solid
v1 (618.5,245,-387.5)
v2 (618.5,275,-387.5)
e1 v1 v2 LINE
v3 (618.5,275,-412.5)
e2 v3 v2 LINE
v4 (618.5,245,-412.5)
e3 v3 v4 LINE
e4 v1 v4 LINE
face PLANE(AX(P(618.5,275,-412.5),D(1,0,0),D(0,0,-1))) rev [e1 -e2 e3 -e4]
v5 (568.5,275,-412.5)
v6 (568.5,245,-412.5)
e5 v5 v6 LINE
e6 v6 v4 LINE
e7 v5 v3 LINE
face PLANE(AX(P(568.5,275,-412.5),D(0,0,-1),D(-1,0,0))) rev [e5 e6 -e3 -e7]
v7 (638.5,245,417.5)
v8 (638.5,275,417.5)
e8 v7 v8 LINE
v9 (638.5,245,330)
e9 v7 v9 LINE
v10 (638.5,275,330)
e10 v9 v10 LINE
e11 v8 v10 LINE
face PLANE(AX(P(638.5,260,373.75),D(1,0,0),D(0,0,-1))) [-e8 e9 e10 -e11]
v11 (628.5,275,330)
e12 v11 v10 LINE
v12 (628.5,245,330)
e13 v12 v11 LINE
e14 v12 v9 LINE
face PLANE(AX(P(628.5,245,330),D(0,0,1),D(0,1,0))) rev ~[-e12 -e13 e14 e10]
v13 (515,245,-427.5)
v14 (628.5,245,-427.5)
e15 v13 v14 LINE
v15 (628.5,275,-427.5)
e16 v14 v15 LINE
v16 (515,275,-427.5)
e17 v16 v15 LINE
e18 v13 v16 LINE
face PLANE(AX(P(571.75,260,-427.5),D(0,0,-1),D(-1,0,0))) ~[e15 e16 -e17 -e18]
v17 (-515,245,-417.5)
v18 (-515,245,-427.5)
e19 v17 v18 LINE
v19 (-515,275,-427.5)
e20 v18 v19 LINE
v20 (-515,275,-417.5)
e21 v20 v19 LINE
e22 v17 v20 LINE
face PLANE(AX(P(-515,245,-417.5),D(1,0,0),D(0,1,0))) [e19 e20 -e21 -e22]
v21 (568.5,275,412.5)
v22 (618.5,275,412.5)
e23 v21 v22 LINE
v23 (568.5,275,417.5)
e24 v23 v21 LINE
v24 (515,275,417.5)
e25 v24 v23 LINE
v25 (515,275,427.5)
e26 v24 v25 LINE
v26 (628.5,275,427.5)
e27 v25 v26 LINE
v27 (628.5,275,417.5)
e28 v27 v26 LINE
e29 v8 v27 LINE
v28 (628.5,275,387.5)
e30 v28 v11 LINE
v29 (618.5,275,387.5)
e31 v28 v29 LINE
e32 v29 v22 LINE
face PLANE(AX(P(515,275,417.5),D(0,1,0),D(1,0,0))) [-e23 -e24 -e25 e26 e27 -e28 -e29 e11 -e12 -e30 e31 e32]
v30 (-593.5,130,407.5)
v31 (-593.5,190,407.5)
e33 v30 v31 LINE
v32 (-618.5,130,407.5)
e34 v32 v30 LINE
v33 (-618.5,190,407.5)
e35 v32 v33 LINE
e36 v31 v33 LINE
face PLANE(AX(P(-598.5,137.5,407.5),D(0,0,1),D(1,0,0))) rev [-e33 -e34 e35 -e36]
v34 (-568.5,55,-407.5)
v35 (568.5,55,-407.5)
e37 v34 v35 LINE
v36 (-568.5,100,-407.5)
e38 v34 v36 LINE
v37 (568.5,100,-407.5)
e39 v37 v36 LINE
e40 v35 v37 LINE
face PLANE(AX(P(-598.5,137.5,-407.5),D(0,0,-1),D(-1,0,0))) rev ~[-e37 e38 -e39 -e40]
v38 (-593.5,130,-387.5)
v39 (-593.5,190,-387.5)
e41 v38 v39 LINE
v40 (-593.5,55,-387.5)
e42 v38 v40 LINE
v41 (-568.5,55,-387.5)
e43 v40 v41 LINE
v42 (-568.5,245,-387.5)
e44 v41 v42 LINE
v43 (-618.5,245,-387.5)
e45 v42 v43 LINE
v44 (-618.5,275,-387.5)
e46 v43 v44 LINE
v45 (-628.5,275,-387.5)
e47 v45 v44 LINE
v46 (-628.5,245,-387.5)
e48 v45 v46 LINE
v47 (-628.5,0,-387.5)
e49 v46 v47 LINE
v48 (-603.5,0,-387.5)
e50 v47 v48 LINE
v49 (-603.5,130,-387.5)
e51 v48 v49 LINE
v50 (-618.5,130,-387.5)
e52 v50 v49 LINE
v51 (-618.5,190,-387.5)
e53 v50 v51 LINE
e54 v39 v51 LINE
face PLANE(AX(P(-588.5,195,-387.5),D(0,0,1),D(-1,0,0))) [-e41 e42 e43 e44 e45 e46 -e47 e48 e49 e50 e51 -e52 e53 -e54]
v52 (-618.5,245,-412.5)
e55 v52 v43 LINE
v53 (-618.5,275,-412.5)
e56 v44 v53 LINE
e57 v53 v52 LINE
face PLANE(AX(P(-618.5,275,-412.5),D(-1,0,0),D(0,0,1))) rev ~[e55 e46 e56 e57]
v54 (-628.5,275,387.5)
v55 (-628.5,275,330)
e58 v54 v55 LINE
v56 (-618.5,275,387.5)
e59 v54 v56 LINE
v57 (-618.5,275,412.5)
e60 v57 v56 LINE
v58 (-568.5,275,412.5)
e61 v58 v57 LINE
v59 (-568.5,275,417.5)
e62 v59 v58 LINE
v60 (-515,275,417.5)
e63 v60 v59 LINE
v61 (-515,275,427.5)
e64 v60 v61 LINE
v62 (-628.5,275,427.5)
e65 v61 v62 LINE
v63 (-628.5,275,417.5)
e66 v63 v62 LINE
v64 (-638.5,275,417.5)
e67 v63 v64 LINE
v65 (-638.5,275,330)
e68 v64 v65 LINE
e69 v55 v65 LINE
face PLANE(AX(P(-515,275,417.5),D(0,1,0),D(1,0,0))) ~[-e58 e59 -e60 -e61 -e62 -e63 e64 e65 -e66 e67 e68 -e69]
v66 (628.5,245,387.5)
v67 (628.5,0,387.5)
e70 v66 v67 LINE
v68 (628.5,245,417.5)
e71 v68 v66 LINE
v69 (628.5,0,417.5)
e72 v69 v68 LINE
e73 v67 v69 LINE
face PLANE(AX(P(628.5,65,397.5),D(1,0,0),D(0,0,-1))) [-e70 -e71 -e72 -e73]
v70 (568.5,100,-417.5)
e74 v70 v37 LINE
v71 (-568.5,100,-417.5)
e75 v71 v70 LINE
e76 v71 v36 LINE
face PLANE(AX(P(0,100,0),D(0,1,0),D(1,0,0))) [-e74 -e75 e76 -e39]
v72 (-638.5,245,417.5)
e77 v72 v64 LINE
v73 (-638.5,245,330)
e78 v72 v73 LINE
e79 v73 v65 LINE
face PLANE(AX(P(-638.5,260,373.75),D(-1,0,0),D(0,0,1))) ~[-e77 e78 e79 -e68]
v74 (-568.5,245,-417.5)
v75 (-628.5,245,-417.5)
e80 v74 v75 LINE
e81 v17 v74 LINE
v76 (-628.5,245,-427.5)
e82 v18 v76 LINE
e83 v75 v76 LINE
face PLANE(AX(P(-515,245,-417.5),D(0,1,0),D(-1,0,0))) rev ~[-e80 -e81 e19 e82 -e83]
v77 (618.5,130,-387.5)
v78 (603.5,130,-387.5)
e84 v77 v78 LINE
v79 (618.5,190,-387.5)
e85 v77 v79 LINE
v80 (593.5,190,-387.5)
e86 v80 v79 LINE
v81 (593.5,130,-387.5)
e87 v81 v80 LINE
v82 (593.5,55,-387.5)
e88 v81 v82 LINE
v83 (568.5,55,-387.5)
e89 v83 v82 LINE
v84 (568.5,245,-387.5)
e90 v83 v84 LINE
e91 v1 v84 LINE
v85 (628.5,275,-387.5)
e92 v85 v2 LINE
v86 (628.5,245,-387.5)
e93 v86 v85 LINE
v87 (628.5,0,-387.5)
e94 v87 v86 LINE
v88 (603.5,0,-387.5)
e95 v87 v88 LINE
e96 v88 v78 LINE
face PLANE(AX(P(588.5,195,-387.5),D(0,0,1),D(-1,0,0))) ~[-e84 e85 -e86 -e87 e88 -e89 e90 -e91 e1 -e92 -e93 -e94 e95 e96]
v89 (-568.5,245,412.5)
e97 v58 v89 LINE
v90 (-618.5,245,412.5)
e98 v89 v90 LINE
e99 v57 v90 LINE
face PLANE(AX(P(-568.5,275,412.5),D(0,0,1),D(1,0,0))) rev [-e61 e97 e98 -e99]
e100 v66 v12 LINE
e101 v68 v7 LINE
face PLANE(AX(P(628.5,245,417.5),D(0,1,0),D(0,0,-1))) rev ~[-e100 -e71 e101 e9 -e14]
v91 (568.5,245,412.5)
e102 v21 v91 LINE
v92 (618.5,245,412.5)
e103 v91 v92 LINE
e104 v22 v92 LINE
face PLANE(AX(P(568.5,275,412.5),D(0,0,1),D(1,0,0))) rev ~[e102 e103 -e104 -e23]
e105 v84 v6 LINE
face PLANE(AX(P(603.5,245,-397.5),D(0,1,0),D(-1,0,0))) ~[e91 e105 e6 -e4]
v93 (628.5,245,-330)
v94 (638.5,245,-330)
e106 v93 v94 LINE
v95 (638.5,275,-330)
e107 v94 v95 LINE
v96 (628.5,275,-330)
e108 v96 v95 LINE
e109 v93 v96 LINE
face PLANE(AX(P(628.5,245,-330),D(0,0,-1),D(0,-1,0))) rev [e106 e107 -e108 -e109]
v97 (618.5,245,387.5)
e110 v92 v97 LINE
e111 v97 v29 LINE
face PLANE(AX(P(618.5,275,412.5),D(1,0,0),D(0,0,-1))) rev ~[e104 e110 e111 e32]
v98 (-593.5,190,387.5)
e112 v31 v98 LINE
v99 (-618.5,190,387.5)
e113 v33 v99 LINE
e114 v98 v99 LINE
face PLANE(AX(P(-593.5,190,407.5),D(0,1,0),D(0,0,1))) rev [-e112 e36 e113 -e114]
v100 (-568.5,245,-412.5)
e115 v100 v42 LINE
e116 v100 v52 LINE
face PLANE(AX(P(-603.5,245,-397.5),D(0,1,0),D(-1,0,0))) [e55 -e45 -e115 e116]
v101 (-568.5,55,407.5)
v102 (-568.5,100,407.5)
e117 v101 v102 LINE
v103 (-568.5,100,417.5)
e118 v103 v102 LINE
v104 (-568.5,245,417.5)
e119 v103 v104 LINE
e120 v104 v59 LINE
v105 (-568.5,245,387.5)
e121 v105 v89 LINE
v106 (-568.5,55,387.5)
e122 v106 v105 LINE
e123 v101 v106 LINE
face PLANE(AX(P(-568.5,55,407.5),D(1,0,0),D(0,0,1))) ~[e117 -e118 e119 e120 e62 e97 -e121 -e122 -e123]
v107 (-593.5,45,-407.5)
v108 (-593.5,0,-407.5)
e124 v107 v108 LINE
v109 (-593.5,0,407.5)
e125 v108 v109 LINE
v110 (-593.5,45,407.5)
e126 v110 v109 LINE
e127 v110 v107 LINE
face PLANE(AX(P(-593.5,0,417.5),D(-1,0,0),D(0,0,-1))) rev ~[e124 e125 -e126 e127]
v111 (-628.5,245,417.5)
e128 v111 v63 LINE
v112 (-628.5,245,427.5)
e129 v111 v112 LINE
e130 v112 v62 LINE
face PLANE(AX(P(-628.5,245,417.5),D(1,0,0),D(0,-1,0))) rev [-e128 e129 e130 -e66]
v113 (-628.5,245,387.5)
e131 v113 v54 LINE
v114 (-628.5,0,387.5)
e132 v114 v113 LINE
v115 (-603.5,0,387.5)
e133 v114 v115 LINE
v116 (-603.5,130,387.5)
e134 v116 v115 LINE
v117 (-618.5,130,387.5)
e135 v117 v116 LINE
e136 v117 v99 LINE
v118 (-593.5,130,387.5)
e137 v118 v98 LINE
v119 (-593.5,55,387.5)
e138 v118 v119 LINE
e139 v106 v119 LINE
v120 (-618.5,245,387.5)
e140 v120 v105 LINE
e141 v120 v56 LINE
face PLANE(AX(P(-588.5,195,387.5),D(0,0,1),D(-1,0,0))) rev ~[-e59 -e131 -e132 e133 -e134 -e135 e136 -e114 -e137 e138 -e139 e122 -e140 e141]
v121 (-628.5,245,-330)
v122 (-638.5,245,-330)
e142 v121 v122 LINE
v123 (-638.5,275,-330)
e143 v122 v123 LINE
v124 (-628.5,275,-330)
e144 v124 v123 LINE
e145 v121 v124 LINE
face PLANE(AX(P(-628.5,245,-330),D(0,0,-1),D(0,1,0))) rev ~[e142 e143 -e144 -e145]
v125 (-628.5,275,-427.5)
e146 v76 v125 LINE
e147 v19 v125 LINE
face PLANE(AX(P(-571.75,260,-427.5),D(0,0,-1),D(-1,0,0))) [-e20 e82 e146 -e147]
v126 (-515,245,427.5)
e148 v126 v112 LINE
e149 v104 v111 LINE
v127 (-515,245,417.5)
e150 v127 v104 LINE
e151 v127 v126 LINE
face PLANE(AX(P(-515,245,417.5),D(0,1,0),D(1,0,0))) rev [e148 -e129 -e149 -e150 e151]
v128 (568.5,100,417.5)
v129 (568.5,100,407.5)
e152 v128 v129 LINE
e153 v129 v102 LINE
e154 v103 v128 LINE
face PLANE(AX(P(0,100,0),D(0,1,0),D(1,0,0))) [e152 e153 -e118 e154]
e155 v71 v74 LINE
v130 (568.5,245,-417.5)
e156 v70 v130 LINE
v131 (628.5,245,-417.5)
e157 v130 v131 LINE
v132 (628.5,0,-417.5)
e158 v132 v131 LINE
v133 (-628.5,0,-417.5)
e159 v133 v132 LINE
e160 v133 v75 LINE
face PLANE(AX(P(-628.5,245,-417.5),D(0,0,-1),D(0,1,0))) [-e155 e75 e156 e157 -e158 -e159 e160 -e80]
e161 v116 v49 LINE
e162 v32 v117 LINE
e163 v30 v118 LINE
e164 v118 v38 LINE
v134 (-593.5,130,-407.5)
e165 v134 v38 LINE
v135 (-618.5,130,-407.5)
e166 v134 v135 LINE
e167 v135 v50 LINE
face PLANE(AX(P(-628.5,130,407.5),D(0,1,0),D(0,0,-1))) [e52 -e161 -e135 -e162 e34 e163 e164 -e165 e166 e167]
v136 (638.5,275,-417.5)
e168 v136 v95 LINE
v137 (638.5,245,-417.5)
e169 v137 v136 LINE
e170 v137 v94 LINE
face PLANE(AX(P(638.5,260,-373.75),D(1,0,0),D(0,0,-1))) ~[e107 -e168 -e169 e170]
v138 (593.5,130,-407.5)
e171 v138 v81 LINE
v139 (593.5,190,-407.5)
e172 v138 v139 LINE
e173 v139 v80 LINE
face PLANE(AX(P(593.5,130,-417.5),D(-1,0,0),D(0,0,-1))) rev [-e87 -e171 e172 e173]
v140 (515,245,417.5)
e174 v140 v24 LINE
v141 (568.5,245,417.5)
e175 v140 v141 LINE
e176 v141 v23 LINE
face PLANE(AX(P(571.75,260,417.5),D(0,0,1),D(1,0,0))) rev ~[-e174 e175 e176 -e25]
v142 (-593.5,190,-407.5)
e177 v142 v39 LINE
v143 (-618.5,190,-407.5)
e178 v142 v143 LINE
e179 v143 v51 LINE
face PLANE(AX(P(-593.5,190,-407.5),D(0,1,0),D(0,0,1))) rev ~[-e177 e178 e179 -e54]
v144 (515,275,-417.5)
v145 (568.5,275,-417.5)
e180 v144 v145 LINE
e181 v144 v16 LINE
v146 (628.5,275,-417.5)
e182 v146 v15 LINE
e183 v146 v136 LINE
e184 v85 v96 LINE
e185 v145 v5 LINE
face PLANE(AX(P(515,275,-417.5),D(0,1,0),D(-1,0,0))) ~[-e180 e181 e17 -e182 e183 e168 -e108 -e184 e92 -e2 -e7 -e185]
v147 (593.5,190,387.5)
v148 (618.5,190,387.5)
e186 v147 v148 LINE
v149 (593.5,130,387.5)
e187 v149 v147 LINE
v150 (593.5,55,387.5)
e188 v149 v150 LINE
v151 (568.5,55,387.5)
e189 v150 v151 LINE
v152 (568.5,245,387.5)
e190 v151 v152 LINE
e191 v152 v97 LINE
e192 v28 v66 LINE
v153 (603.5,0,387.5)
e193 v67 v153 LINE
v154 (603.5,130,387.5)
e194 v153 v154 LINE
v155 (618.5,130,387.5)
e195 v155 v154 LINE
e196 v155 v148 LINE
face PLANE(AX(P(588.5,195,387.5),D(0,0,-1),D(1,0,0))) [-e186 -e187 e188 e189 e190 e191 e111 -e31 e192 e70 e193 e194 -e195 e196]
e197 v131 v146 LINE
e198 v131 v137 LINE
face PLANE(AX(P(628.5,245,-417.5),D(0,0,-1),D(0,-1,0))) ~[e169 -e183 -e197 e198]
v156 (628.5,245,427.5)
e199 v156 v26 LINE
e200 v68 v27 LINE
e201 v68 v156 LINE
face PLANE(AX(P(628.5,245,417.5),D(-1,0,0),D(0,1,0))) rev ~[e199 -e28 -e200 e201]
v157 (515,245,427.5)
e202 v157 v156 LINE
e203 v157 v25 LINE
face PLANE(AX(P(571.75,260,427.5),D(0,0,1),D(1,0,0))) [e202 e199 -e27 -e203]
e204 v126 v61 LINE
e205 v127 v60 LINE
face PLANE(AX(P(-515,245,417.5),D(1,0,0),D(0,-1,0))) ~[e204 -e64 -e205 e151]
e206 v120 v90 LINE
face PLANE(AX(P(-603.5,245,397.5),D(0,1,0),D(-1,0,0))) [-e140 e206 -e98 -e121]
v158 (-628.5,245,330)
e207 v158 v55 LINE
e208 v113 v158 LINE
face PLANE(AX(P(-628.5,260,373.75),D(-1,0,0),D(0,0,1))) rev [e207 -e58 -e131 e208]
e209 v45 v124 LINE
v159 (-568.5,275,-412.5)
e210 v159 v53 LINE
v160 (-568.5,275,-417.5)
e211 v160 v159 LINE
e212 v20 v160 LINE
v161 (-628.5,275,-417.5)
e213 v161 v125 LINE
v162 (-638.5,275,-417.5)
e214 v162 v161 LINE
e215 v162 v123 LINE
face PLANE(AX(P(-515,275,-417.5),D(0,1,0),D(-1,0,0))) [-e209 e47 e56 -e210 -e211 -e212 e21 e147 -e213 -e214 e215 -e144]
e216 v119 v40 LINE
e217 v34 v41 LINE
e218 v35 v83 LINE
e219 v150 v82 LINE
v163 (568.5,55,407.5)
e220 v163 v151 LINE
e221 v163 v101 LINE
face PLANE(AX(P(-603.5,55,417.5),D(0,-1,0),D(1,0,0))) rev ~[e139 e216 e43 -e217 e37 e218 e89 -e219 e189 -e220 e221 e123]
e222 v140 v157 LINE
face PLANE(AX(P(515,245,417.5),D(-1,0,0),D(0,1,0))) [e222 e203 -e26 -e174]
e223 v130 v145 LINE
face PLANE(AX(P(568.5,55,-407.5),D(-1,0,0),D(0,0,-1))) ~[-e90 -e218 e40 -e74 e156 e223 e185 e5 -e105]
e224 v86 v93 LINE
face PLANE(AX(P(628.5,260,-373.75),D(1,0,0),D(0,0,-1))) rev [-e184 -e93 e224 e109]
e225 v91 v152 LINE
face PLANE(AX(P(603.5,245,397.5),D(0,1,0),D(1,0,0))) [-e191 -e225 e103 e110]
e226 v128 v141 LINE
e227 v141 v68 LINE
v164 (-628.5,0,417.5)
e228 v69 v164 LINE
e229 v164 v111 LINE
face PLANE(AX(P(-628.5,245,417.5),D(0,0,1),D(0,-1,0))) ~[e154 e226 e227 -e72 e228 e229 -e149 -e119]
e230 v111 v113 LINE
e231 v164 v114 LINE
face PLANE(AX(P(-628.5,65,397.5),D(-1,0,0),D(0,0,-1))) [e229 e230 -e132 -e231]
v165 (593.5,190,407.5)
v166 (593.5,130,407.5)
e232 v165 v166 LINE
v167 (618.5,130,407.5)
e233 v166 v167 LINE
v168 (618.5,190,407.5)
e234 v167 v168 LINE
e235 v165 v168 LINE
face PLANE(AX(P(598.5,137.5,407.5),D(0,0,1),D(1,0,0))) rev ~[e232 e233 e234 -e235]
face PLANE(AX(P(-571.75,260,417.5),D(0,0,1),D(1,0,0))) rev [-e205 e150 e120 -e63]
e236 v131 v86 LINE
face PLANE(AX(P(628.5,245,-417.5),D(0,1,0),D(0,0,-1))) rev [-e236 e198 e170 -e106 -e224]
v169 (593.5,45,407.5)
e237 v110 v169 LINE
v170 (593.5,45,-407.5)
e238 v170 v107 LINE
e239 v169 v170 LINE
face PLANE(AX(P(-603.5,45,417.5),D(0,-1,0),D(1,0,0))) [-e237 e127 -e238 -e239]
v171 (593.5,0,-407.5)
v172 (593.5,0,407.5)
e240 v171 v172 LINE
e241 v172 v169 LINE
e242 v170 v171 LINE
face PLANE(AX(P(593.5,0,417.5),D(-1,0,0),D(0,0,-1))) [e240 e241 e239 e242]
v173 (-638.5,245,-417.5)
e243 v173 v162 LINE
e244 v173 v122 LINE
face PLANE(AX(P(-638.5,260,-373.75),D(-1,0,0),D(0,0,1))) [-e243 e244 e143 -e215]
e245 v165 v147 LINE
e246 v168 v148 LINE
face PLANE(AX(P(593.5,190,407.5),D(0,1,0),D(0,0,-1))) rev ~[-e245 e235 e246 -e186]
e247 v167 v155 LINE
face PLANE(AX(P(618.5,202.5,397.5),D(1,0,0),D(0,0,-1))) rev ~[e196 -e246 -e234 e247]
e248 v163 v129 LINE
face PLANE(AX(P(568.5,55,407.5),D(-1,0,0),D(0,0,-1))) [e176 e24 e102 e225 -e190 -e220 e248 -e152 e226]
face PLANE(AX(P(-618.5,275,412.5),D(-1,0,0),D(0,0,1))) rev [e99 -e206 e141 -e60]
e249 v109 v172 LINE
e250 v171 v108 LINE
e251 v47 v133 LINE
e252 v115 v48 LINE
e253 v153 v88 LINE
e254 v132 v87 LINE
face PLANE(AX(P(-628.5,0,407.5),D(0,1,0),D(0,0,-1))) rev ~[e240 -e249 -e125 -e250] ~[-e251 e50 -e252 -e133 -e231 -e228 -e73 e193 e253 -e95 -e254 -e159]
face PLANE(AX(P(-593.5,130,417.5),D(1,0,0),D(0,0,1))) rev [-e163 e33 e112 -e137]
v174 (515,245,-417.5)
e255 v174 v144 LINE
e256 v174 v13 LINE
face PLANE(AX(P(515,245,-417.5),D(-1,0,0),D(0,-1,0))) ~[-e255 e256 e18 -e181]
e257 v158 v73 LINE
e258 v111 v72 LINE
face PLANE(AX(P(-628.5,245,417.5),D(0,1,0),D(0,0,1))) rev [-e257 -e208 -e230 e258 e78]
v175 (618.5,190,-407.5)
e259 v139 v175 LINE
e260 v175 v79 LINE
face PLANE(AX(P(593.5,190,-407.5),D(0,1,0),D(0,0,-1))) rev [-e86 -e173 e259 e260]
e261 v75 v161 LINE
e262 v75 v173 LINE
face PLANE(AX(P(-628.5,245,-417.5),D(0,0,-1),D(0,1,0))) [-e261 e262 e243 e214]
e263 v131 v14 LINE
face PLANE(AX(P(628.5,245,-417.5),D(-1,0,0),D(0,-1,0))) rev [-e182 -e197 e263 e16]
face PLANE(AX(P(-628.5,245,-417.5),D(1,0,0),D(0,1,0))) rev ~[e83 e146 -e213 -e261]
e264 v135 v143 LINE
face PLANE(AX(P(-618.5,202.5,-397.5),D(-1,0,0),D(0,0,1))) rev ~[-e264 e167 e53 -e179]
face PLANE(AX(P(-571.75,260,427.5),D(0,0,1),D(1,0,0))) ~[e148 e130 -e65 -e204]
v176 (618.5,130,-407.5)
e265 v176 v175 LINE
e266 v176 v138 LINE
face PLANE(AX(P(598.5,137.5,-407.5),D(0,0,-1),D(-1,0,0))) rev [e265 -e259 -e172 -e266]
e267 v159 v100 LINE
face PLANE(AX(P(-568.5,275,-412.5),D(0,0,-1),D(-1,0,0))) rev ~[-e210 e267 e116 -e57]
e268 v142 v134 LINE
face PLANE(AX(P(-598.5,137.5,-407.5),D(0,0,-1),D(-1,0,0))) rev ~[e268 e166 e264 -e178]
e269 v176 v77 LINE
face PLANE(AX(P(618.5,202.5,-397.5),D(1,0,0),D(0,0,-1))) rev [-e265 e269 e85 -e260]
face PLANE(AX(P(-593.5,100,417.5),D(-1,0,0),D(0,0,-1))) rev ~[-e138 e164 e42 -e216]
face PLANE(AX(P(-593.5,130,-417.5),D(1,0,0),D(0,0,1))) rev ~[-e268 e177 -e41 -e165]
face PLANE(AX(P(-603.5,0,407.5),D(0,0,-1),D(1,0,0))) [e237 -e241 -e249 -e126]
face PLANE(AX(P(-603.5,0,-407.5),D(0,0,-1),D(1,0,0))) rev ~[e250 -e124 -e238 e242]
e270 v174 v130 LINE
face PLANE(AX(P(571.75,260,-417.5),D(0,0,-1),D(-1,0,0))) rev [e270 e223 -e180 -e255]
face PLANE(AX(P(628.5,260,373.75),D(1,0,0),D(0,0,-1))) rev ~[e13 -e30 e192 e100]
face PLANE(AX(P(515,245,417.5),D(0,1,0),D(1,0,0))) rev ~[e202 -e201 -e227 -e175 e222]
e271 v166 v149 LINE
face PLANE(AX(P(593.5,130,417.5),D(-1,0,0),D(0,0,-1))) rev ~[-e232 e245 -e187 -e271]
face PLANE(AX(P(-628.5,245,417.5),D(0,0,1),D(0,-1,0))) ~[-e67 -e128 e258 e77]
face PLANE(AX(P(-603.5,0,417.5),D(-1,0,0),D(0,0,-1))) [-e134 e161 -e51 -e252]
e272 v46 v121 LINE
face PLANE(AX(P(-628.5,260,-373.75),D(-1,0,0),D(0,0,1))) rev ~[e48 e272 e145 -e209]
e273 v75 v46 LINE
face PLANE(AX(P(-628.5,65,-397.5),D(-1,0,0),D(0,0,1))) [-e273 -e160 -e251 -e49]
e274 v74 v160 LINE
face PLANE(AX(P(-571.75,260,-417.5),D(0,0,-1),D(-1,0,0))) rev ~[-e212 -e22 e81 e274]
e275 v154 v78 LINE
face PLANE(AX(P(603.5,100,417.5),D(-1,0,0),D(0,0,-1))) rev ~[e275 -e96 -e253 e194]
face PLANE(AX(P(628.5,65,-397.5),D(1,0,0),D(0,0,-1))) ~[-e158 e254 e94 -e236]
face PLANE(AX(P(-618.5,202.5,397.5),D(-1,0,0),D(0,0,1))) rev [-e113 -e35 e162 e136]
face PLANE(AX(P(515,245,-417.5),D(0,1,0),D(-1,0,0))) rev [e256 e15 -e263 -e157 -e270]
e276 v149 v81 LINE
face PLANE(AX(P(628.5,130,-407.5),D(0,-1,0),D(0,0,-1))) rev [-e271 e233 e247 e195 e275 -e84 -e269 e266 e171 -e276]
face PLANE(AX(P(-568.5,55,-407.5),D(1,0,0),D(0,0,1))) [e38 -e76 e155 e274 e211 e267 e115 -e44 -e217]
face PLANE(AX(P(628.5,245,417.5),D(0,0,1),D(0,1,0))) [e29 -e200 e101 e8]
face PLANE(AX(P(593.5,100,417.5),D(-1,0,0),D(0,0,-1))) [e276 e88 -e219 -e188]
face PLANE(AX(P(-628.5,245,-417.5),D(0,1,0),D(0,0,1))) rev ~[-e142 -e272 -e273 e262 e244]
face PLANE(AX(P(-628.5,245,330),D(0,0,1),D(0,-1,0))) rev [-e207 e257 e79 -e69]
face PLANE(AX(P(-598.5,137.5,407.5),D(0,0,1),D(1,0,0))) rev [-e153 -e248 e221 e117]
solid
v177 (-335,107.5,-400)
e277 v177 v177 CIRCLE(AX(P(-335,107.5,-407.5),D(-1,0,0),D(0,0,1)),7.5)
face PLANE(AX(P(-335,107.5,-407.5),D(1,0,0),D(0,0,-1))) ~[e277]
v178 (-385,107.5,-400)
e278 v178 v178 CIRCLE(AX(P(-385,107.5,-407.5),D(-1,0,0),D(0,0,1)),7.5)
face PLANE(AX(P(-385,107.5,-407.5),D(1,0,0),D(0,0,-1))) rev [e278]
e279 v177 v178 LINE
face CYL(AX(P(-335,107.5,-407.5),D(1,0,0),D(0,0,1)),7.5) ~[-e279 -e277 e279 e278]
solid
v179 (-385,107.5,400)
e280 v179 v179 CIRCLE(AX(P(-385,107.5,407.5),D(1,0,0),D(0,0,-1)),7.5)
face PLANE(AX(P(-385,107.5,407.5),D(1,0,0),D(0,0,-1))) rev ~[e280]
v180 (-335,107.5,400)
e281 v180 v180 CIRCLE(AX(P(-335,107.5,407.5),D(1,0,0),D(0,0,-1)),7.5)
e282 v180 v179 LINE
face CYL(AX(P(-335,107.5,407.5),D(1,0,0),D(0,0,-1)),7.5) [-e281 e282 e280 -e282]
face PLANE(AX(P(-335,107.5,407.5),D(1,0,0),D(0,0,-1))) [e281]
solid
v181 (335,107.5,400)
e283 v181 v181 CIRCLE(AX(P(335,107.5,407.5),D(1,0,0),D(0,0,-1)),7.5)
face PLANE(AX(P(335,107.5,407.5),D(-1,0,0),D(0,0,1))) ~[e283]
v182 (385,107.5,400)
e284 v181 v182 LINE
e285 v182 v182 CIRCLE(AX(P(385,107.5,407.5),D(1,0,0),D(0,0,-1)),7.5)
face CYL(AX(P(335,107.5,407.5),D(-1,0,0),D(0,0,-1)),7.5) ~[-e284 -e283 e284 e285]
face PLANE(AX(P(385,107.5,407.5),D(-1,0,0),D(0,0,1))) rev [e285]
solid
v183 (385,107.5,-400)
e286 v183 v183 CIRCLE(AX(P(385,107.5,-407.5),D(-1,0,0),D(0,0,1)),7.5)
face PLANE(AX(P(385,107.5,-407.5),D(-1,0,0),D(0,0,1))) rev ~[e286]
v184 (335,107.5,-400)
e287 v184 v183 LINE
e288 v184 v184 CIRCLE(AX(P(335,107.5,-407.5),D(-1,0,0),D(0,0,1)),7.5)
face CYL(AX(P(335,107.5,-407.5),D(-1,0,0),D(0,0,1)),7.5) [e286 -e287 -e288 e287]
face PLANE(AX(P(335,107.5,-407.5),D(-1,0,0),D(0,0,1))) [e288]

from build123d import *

# Parameters (mm, degrees)
SCHIZZO1_W                    = 1207
SCHIZZO1_H                    = 835
ESTRUSIONE_ESTRUSIONE2_DEPTH  = 100
SVUOTA1_T                     = -10
ESTRUSIONE_ESTRUSIONE3_REACH  = 837
SCHIZZO6_W                    = 1207
SCHIZZO6_H                    = 10
SCHIZZO12_W                   = 10
SCHIZZO12_H                   = 835
ESTRUSIONE_ESTRUSIONE10_DEPTH = 30
SCHIZZO7_W                    = 60
SCHIZZO7_H                    = 275
ESTRUSIONE_ESTRUSIONE4_DEPTH  = 10
SCHIZZO8_W                    = 20
SCHIZZO8_H                    = 145
ESTRUSIONE_ESTRUSIONE5_DEPTH  = 10
SCHIZZO9_W                    = 5
SCHIZZO9_H                    = 30
ESTRUSIONE_ESTRUSIONE6_DEPTH  = 75
SCHIZZO10_W                   = 5
SCHIZZO10_H                   = 30
ESTRUSIONE_ESTRUSIONE7_DEPTH  = 65
SCHIZZO11_W                   = 5
SCHIZZO11_H                   = 20
ESTRUSIONE_ESTRUSIONE8_DEPTH  = 25
SCHIZZO8_3_W                  = 20
SCHIZZO8_3_H                  = 130
ESTRUSIONE_ESTRUSIONE9_DEPTH  = 25
SCHIZZO14_W                   = 87.5
SCHIZZO14_H                   = 30
ESTRUSIONE_ESTRUSIONE12_DEPTH = 10
SCHIZZO15_W                   = 50
SCHIZZO15_H                   = 5
TAGLIO_ESTRUSIONE1_DEPTH      = 30
SCHIZZO16_W                   = 20
SCHIZZO16_H                   = 20
ESTRUSIONE_ESTRUSIONE13_DEPTH = 190
SCHIZZO17_W                   = 30
SCHIZZO17_H                   = 20
ESTRUSIONE_ESTRUSIONE14_DEPTH = 50
SCHIZZO18_W                   = 113.5
SCHIZZO18_H                   = 30
ESTRUSIONE_ESTRUSIONE15_DEPTH = 10
SPECCHIA2_COPY_1_SKETCH_W     = 60
SPECCHIA2_COPY_1_SKETCH_H     = 275
SPECCHIA2_COPY_1_DEPTH        = 10
SPECCHIA2_COPY_2_SKETCH_W     = 20
SPECCHIA2_COPY_2_SKETCH_H     = 145
SPECCHIA2_COPY_2_DEPTH        = 10
SPECCHIA2_COPY_3_SKETCH_W     = 5
SPECCHIA2_COPY_3_SKETCH_H     = 30
SPECCHIA2_COPY_3_DEPTH        = 75
SPECCHIA2_COPY_4_SKETCH_W     = 5
SPECCHIA2_COPY_4_SKETCH_H     = 30
SPECCHIA2_COPY_4_DEPTH        = 65
SPECCHIA2_COPY_5_SKETCH_W     = 5
SPECCHIA2_COPY_5_SKETCH_H     = 20
SPECCHIA2_COPY_5_DEPTH        = 25
SPECCHIA2_COPY_6_SKETCH_W     = 20
SPECCHIA2_COPY_6_SKETCH_H     = 130
SPECCHIA2_COPY_6_DEPTH        = 25
SPECCHIA2_COPY_7_SKETCH_W     = 87.5
SPECCHIA2_COPY_7_SKETCH_H     = 30
SPECCHIA2_COPY_7_DEPTH        = 10
SPECCHIA2_COPY_8_SKETCH_W     = 50
SPECCHIA2_COPY_8_SKETCH_H     = 5
SPECCHIA2_COPY_8_DEPTH        = 30
SPECCHIA2_COPY_9_SKETCH_W     = 20
SPECCHIA2_COPY_9_SKETCH_H     = 20
SPECCHIA2_COPY_9_DEPTH        = 190
SPECCHIA2_COPY_10_SKETCH_W    = 30
SPECCHIA2_COPY_10_SKETCH_H    = 20
SPECCHIA2_COPY_10_DEPTH       = 50
SPECCHIA2_COPY_11_SKETCH_W    = 113.5
SPECCHIA2_COPY_11_SKETCH_H    = 30
SPECCHIA2_COPY_11_DEPTH       = 10
SPECCHIA2_COPY_12_SKETCH_W    = 20
SPECCHIA2_COPY_12_SKETCH_H    = 130
SPECCHIA2_COPY_12_DEPTH       = 25
SPECCHIA2_COPY_13_SKETCH_W    = 30
SPECCHIA2_COPY_13_SKETCH_H    = 20
SPECCHIA2_COPY_13_DEPTH       = 50
ESTRUSIONE_ESTRUSIONE11_START = 233.5
SCHIZZO13_R                   = 7.5
ESTRUSIONE_ESTRUSIONE11_DEPTH = 50


with BuildPart() as part:
    # Schizzo1 → Estrusione-Estrusione2 (new body)
    with BuildSketch(Plane(origin=(0, 0, 0), x_dir=(1, 0, 0), z_dir=(0, 1, 0))):
        Rectangle(SCHIZZO1_W, SCHIZZO1_H)
    extrude(amount=ESTRUSIONE_ESTRUSIONE2_DEPTH)

    # Svuota1
    svuota1_openings = [part.faces().sort_by_distance(p)[0] for p in [
        (0, 100, 0),
        (0, 0, 0),
    ]]
    offset(amount=SVUOTA1_T, openings=svuota1_openings, kind=Kind.INTERSECTION)

    # Schizzo6 → Estrusione-Estrusione3 (add, up to next)
    with BuildSketch(Plane.XY.offset(417.5), mode=Mode.PRIVATE) as estrusione_estrusione3_sk1:
        with Locations((0, 50)):
            Rectangle(SCHIZZO6_W, SCHIZZO6_H)
    estrusione_estrusione3_tool1 = extrude(estrusione_estrusione3_sk1.sketch, amount=-ESTRUSIONE_ESTRUSIONE3_REACH, mode=Mode.PRIVATE) - part.part
    add(estrusione_estrusione3_tool1.solids().sort_by_distance((0, 50, 417.5))[0])

    # Schizzo12 → Estrusione-Estrusione10 (add)
    with BuildSketch(Plane(origin=(0, 100, 0), x_dir=(1, 0, 0), z_dir=(0, 1, 0))):
        with Locations((598.5, 0)):
            Rectangle(SCHIZZO12_W, SCHIZZO12_H)
        with Locations((-598.5, 0)):
            Rectangle(SCHIZZO12_W, SCHIZZO12_H)
    extrude(amount=ESTRUSIONE_ESTRUSIONE10_DEPTH)

    # Schizzo7 → Estrusione-Estrusione4 (add)
    with BuildSketch(Plane.XY.offset(417.5)):
        with Locations((598.5, 137.5)):
            Rectangle(SCHIZZO7_W, SCHIZZO7_H)
    estrusione_estrusione4 = extrude(amount=-ESTRUSIONE_ESTRUSIONE4_DEPTH)

    # Schizzo8 → Estrusione-Estrusione5 (add)
    with BuildSketch(Plane(origin=(628.5, 0, 0), x_dir=(0, 0, -1), z_dir=(1, 0, 0))):
        with Locations((-397.5, 202.5)):
            Rectangle(SCHIZZO8_W, SCHIZZO8_H)
    estrusione_estrusione5 = extrude(amount=-ESTRUSIONE_ESTRUSIONE5_DEPTH)

    # Schizzo9 → Estrusione-Estrusione6 (add)
    with BuildSketch(Plane(origin=(0, 130, 0), x_dir=(1, 0, 0), z_dir=(0, 1, 0))):
        with Locations((591, -402.5)):
            Rectangle(SCHIZZO9_W, SCHIZZO9_H)
    estrusione_estrusione6 = extrude(amount=-ESTRUSIONE_ESTRUSIONE6_DEPTH)

    # Schizzo10 → Estrusione-Estrusione7 (add)
    with BuildSketch(Plane(origin=(0, 130, 0), x_dir=(1, 0, 0), z_dir=(0, 1, 0))):
        with Locations((591, -402.5)):
            Rectangle(SCHIZZO10_W, SCHIZZO10_H)
    estrusione_estrusione7 = extrude(amount=ESTRUSIONE_ESTRUSIONE7_DEPTH)

    # Schizzo11 → Estrusione-Estrusione8 (add)
    with BuildSketch(Plane(origin=(593.5, -365, 0), x_dir=(0, 1, 0), z_dir=(-1, 0, 0))):
        with Locations((557.5, -397.5)):
            Rectangle(SCHIZZO11_W, SCHIZZO11_H)
    estrusione_estrusione8 = extrude(amount=-ESTRUSIONE_ESTRUSIONE8_DEPTH)

    # Schizzo8_3 → Estrusione-Estrusione9 (add)
    with BuildSketch(Plane(origin=(628.5, 0, 0), x_dir=(0, 0, -1), z_dir=(1, 0, 0))):
        with Locations((-397.5, 65)):
            Rectangle(SCHIZZO8_3_W, SCHIZZO8_3_H)
    estrusione_estrusione9 = extrude(amount=-ESTRUSIONE_ESTRUSIONE9_DEPTH)

    # Schizzo14 → Estrusione-Estrusione12 (add)
    with BuildSketch(Plane(origin=(628.5, 0, 0), x_dir=(0, 0, -1), z_dir=(1, 0, 0))):
        with Locations((-373.75, 260)):
            Rectangle(SCHIZZO14_W, SCHIZZO14_H)
    estrusione_estrusione12 = extrude(amount=ESTRUSIONE_ESTRUSIONE12_DEPTH)

    # Schizzo15 → Taglio-Estrusione1 (cut)
    with BuildSketch(Plane(origin=(0, 275, 0), x_dir=(1, 0, 0), z_dir=(0, 1, 0))):
        with Locations((593.5, -410)):
            Rectangle(SCHIZZO15_W, SCHIZZO15_H)
    taglio_estrusione1 = extrude(amount=-TAGLIO_ESTRUSIONE1_DEPTH, mode=Mode.SUBTRACT)

    # Schizzo16 → Estrusione-Estrusione13 (add)
    with BuildSketch(Plane(origin=(0, 55, 0), x_dir=(1, 0, 0), z_dir=(0, 1, 0))):
        with Locations((578.5, -397.5)):
            Rectangle(SCHIZZO16_W, SCHIZZO16_H)
    estrusione_estrusione13 = extrude(amount=ESTRUSIONE_ESTRUSIONE13_DEPTH)

    # Schizzo17 → Estrusione-Estrusione14 (add)
    with BuildSketch(Plane(origin=(0, 195, 0), x_dir=(1, 0, 0), z_dir=(0, 1, 0))):
        with Locations((603.5, -397.5)):
            Rectangle(SCHIZZO17_W, SCHIZZO17_H)
    estrusione_estrusione14 = extrude(amount=ESTRUSIONE_ESTRUSIONE14_DEPTH)

    # Schizzo18 → Estrusione-Estrusione15 (add)
    with BuildSketch(Plane.XY.offset(417.5)):
        with Locations((571.75, 260)):
            Rectangle(SCHIZZO18_W, SCHIZZO18_H)
    estrusione_estrusione15 = extrude(amount=ESTRUSIONE_ESTRUSIONE15_DEPTH)

    # Specchia1: Estrusione-Estrusione4, Estrusione-Estrusione5, Estrusione-Estrusione6, Estrusione-Estrusione7, Estrusione-Estrusione8, Estrusione-Estrusione9, Estrusione-Estrusione12, Taglio-Estrusione1, Estrusione-Estrusione13, Estrusione-Estrusione14, Estrusione-Estrusione15 across plane
    add(estrusione_estrusione4.mirror(Plane.XY))
    add(estrusione_estrusione5.mirror(Plane.XY))
    add(estrusione_estrusione6.mirror(Plane.XY))
    add(estrusione_estrusione7.mirror(Plane.XY))
    add(estrusione_estrusione8.mirror(Plane.XY))
    add(estrusione_estrusione9.mirror(Plane.XY))
    add(estrusione_estrusione12.mirror(Plane.XY))
    add(taglio_estrusione1.mirror(Plane.XY), mode=Mode.SUBTRACT)
    add(estrusione_estrusione13.mirror(Plane.XY))
    add(estrusione_estrusione14.mirror(Plane.XY))
    add(estrusione_estrusione15.mirror(Plane.XY))

    # Specchia2: Estrusione-Estrusione4, Estrusione-Estrusione5, Estrusione-Estrusione6, Estrusione-Estrusione7, Estrusione-Estrusione8, Estrusione-Estrusione12, Taglio-Estrusione1, Estrusione-Estrusione13, Estrusione-Estrusione15 across plane
    add(estrusione_estrusione4.mirror(Plane(origin=(0, 0, 0), x_dir=(0, 0, 1), z_dir=(1, 0, 0))))
    add(estrusione_estrusione5.mirror(Plane(origin=(0, 0, 0), x_dir=(0, 0, 1), z_dir=(1, 0, 0))))
    add(estrusione_estrusione6.mirror(Plane(origin=(0, 0, 0), x_dir=(0, 0, 1), z_dir=(1, 0, 0))))
    add(estrusione_estrusione7.mirror(Plane(origin=(0, 0, 0), x_dir=(0, 0, 1), z_dir=(1, 0, 0))))
    add(estrusione_estrusione8.mirror(Plane(origin=(0, 0, 0), x_dir=(0, 0, 1), z_dir=(1, 0, 0))))
    add(estrusione_estrusione12.mirror(Plane(origin=(0, 0, 0), x_dir=(0, 0, 1), z_dir=(1, 0, 0))))
    add(taglio_estrusione1.mirror(Plane(origin=(0, 0, 0), x_dir=(0, 0, 1), z_dir=(1, 0, 0))), mode=Mode.SUBTRACT)
    add(estrusione_estrusione13.mirror(Plane(origin=(0, 0, 0), x_dir=(0, 0, 1), z_dir=(1, 0, 0))))
    add(estrusione_estrusione15.mirror(Plane(origin=(0, 0, 0), x_dir=(0, 0, 1), z_dir=(1, 0, 0))))

    # Specchia2 copy 1 sketch → Specchia2 copy 1 (add)
    with BuildSketch(Plane(origin=(0, 0, -417.5), x_dir=(-1, 0, 0), z_dir=(0, 0, -1))):
        with Locations((598.5, 137.5)):
            Rectangle(SPECCHIA2_COPY_1_SKETCH_W, SPECCHIA2_COPY_1_SKETCH_H)
    extrude(amount=-SPECCHIA2_COPY_1_DEPTH)

    # Specchia2 copy 2 sketch → Specchia2 copy 2 (add)
    with BuildSketch(Plane.ZY.offset(628.5)):
        with Locations((-397.5, 202.5)):
            Rectangle(SPECCHIA2_COPY_2_SKETCH_W, SPECCHIA2_COPY_2_SKETCH_H)
    extrude(amount=-SPECCHIA2_COPY_2_DEPTH)

    # Specchia2 copy 3 sketch → Specchia2 copy 3 (add)
    with BuildSketch(Plane(origin=(0, 130, 0), x_dir=(-1, 0, 0), z_dir=(0, 1, 0))):
        with Locations((591, -402.5)):
            Rectangle(SPECCHIA2_COPY_3_SKETCH_W, SPECCHIA2_COPY_3_SKETCH_H)
    extrude(amount=-SPECCHIA2_COPY_3_DEPTH)

    # Specchia2 copy 4 sketch → Specchia2 copy 4 (add)
    with BuildSketch(Plane(origin=(0, 130, 0), x_dir=(-1, 0, 0), z_dir=(0, 1, 0))):
        with Locations((591, -402.5)):
            Rectangle(SPECCHIA2_COPY_4_SKETCH_W, SPECCHIA2_COPY_4_SKETCH_H)
    extrude(amount=SPECCHIA2_COPY_4_DEPTH)

    # Specchia2 copy 5 sketch → Specchia2 copy 5 (add)
    with BuildSketch(Plane(origin=(-593.5, -365, 0), x_dir=(0, 1, 0), z_dir=(1, 0, 0))):
        with Locations((557.5, -397.5)):
            Rectangle(SPECCHIA2_COPY_5_SKETCH_W, SPECCHIA2_COPY_5_SKETCH_H)
    extrude(amount=-SPECCHIA2_COPY_5_DEPTH)

    # Specchia2 copy 6 sketch → Specchia2 copy 6 (add)
    with BuildSketch(Plane.ZY.offset(628.5)):
        with Locations((-397.5, 65)):
            Rectangle(SPECCHIA2_COPY_6_SKETCH_W, SPECCHIA2_COPY_6_SKETCH_H)
    extrude(amount=-SPECCHIA2_COPY_6_DEPTH)

    # Specchia2 copy 7 sketch → Specchia2 copy 7 (add)
    with BuildSketch(Plane.ZY.offset(628.5)):
        with Locations((-373.75, 260)):
            Rectangle(SPECCHIA2_COPY_7_SKETCH_W, SPECCHIA2_COPY_7_SKETCH_H)
    extrude(amount=SPECCHIA2_COPY_7_DEPTH)

    # Specchia2 copy 8 sketch → Specchia2 copy 8 (cut)
    with BuildSketch(Plane(origin=(0, 275, 0), x_dir=(-1, 0, 0), z_dir=(0, 1, 0))):
        with Locations((593.5, -410)):
            Rectangle(SPECCHIA2_COPY_8_SKETCH_W, SPECCHIA2_COPY_8_SKETCH_H)
    extrude(amount=-SPECCHIA2_COPY_8_DEPTH, mode=Mode.SUBTRACT)

    # Specchia2 copy 9 sketch → Specchia2 copy 9 (add)
    with BuildSketch(Plane(origin=(0, 55, 0), x_dir=(-1, 0, 0), z_dir=(0, 1, 0))):
        with Locations((578.5, -397.5)):
            Rectangle(SPECCHIA2_COPY_9_SKETCH_W, SPECCHIA2_COPY_9_SKETCH_H)
    extrude(amount=SPECCHIA2_COPY_9_DEPTH)

    # Specchia2 copy 10 sketch → Specchia2 copy 10 (add)
    with BuildSketch(Plane(origin=(0, 195, 0), x_dir=(-1, 0, 0), z_dir=(0, 1, 0))):
        with Locations((603.5, -397.5)):
            Rectangle(SPECCHIA2_COPY_10_SKETCH_W, SPECCHIA2_COPY_10_SKETCH_H)
    extrude(amount=SPECCHIA2_COPY_10_DEPTH)

    # Specchia2 copy 11 sketch → Specchia2 copy 11 (add)
    with BuildSketch(Plane(origin=(0, 0, -417.5), x_dir=(-1, 0, 0), z_dir=(0, 0, -1))):
        with Locations((571.75, 260)):
            Rectangle(SPECCHIA2_COPY_11_SKETCH_W, SPECCHIA2_COPY_11_SKETCH_H)
    extrude(amount=SPECCHIA2_COPY_11_DEPTH)

    # Specchia2 copy 12 sketch → Specchia2 copy 12 (add)
    with BuildSketch(Plane(origin=(-628.5, 0, 0), x_dir=(0, 0, -1), z_dir=(-1, 0, 0))):
        with Locations((-397.5, -65)):
            Rectangle(SPECCHIA2_COPY_12_SKETCH_W, SPECCHIA2_COPY_12_SKETCH_H)
    extrude(amount=-SPECCHIA2_COPY_12_DEPTH)

    # Specchia2 copy 13 sketch → Specchia2 copy 13 (add)
    with BuildSketch(Plane(origin=(0, 195, 0), x_dir=(-1, 0, 0), z_dir=(0, 1, 0))):
        with Locations((603.5, 397.5)):
            Rectangle(SPECCHIA2_COPY_13_SKETCH_W, SPECCHIA2_COPY_13_SKETCH_H)
    extrude(amount=SPECCHIA2_COPY_13_DEPTH)


with BuildPart() as body_2:
    # Schizzo13 → Estrusione-Estrusione11 (new body)
    with BuildSketch(Plane.ZY.offset(-568.5).offset(ESTRUSIONE_ESTRUSIONE11_START)):
        with Locations((-407.5, 107.5)):
            Circle(SCHIZZO13_R)
    extrude(amount=-ESTRUSIONE_ESTRUSIONE11_DEPTH)


with BuildPart() as body_3:
    # Specchia3: mirrored copy
    add(body_2.part.mirror(Plane(origin=(0, 0, 0), x_dir=(0, 0, 1), z_dir=(1, 0, 0))))


with BuildPart() as body_4:
    # Specchia4: mirrored copy
    add(body_3.part.mirror(Plane.XY))


with BuildPart() as body_5:
    # Specchia4 2: mirrored copy
    add(body_2.part.mirror(Plane.XY))


solid = Compound([part.part, body_2.part, body_3.part, body_4.part, body_5.part])
